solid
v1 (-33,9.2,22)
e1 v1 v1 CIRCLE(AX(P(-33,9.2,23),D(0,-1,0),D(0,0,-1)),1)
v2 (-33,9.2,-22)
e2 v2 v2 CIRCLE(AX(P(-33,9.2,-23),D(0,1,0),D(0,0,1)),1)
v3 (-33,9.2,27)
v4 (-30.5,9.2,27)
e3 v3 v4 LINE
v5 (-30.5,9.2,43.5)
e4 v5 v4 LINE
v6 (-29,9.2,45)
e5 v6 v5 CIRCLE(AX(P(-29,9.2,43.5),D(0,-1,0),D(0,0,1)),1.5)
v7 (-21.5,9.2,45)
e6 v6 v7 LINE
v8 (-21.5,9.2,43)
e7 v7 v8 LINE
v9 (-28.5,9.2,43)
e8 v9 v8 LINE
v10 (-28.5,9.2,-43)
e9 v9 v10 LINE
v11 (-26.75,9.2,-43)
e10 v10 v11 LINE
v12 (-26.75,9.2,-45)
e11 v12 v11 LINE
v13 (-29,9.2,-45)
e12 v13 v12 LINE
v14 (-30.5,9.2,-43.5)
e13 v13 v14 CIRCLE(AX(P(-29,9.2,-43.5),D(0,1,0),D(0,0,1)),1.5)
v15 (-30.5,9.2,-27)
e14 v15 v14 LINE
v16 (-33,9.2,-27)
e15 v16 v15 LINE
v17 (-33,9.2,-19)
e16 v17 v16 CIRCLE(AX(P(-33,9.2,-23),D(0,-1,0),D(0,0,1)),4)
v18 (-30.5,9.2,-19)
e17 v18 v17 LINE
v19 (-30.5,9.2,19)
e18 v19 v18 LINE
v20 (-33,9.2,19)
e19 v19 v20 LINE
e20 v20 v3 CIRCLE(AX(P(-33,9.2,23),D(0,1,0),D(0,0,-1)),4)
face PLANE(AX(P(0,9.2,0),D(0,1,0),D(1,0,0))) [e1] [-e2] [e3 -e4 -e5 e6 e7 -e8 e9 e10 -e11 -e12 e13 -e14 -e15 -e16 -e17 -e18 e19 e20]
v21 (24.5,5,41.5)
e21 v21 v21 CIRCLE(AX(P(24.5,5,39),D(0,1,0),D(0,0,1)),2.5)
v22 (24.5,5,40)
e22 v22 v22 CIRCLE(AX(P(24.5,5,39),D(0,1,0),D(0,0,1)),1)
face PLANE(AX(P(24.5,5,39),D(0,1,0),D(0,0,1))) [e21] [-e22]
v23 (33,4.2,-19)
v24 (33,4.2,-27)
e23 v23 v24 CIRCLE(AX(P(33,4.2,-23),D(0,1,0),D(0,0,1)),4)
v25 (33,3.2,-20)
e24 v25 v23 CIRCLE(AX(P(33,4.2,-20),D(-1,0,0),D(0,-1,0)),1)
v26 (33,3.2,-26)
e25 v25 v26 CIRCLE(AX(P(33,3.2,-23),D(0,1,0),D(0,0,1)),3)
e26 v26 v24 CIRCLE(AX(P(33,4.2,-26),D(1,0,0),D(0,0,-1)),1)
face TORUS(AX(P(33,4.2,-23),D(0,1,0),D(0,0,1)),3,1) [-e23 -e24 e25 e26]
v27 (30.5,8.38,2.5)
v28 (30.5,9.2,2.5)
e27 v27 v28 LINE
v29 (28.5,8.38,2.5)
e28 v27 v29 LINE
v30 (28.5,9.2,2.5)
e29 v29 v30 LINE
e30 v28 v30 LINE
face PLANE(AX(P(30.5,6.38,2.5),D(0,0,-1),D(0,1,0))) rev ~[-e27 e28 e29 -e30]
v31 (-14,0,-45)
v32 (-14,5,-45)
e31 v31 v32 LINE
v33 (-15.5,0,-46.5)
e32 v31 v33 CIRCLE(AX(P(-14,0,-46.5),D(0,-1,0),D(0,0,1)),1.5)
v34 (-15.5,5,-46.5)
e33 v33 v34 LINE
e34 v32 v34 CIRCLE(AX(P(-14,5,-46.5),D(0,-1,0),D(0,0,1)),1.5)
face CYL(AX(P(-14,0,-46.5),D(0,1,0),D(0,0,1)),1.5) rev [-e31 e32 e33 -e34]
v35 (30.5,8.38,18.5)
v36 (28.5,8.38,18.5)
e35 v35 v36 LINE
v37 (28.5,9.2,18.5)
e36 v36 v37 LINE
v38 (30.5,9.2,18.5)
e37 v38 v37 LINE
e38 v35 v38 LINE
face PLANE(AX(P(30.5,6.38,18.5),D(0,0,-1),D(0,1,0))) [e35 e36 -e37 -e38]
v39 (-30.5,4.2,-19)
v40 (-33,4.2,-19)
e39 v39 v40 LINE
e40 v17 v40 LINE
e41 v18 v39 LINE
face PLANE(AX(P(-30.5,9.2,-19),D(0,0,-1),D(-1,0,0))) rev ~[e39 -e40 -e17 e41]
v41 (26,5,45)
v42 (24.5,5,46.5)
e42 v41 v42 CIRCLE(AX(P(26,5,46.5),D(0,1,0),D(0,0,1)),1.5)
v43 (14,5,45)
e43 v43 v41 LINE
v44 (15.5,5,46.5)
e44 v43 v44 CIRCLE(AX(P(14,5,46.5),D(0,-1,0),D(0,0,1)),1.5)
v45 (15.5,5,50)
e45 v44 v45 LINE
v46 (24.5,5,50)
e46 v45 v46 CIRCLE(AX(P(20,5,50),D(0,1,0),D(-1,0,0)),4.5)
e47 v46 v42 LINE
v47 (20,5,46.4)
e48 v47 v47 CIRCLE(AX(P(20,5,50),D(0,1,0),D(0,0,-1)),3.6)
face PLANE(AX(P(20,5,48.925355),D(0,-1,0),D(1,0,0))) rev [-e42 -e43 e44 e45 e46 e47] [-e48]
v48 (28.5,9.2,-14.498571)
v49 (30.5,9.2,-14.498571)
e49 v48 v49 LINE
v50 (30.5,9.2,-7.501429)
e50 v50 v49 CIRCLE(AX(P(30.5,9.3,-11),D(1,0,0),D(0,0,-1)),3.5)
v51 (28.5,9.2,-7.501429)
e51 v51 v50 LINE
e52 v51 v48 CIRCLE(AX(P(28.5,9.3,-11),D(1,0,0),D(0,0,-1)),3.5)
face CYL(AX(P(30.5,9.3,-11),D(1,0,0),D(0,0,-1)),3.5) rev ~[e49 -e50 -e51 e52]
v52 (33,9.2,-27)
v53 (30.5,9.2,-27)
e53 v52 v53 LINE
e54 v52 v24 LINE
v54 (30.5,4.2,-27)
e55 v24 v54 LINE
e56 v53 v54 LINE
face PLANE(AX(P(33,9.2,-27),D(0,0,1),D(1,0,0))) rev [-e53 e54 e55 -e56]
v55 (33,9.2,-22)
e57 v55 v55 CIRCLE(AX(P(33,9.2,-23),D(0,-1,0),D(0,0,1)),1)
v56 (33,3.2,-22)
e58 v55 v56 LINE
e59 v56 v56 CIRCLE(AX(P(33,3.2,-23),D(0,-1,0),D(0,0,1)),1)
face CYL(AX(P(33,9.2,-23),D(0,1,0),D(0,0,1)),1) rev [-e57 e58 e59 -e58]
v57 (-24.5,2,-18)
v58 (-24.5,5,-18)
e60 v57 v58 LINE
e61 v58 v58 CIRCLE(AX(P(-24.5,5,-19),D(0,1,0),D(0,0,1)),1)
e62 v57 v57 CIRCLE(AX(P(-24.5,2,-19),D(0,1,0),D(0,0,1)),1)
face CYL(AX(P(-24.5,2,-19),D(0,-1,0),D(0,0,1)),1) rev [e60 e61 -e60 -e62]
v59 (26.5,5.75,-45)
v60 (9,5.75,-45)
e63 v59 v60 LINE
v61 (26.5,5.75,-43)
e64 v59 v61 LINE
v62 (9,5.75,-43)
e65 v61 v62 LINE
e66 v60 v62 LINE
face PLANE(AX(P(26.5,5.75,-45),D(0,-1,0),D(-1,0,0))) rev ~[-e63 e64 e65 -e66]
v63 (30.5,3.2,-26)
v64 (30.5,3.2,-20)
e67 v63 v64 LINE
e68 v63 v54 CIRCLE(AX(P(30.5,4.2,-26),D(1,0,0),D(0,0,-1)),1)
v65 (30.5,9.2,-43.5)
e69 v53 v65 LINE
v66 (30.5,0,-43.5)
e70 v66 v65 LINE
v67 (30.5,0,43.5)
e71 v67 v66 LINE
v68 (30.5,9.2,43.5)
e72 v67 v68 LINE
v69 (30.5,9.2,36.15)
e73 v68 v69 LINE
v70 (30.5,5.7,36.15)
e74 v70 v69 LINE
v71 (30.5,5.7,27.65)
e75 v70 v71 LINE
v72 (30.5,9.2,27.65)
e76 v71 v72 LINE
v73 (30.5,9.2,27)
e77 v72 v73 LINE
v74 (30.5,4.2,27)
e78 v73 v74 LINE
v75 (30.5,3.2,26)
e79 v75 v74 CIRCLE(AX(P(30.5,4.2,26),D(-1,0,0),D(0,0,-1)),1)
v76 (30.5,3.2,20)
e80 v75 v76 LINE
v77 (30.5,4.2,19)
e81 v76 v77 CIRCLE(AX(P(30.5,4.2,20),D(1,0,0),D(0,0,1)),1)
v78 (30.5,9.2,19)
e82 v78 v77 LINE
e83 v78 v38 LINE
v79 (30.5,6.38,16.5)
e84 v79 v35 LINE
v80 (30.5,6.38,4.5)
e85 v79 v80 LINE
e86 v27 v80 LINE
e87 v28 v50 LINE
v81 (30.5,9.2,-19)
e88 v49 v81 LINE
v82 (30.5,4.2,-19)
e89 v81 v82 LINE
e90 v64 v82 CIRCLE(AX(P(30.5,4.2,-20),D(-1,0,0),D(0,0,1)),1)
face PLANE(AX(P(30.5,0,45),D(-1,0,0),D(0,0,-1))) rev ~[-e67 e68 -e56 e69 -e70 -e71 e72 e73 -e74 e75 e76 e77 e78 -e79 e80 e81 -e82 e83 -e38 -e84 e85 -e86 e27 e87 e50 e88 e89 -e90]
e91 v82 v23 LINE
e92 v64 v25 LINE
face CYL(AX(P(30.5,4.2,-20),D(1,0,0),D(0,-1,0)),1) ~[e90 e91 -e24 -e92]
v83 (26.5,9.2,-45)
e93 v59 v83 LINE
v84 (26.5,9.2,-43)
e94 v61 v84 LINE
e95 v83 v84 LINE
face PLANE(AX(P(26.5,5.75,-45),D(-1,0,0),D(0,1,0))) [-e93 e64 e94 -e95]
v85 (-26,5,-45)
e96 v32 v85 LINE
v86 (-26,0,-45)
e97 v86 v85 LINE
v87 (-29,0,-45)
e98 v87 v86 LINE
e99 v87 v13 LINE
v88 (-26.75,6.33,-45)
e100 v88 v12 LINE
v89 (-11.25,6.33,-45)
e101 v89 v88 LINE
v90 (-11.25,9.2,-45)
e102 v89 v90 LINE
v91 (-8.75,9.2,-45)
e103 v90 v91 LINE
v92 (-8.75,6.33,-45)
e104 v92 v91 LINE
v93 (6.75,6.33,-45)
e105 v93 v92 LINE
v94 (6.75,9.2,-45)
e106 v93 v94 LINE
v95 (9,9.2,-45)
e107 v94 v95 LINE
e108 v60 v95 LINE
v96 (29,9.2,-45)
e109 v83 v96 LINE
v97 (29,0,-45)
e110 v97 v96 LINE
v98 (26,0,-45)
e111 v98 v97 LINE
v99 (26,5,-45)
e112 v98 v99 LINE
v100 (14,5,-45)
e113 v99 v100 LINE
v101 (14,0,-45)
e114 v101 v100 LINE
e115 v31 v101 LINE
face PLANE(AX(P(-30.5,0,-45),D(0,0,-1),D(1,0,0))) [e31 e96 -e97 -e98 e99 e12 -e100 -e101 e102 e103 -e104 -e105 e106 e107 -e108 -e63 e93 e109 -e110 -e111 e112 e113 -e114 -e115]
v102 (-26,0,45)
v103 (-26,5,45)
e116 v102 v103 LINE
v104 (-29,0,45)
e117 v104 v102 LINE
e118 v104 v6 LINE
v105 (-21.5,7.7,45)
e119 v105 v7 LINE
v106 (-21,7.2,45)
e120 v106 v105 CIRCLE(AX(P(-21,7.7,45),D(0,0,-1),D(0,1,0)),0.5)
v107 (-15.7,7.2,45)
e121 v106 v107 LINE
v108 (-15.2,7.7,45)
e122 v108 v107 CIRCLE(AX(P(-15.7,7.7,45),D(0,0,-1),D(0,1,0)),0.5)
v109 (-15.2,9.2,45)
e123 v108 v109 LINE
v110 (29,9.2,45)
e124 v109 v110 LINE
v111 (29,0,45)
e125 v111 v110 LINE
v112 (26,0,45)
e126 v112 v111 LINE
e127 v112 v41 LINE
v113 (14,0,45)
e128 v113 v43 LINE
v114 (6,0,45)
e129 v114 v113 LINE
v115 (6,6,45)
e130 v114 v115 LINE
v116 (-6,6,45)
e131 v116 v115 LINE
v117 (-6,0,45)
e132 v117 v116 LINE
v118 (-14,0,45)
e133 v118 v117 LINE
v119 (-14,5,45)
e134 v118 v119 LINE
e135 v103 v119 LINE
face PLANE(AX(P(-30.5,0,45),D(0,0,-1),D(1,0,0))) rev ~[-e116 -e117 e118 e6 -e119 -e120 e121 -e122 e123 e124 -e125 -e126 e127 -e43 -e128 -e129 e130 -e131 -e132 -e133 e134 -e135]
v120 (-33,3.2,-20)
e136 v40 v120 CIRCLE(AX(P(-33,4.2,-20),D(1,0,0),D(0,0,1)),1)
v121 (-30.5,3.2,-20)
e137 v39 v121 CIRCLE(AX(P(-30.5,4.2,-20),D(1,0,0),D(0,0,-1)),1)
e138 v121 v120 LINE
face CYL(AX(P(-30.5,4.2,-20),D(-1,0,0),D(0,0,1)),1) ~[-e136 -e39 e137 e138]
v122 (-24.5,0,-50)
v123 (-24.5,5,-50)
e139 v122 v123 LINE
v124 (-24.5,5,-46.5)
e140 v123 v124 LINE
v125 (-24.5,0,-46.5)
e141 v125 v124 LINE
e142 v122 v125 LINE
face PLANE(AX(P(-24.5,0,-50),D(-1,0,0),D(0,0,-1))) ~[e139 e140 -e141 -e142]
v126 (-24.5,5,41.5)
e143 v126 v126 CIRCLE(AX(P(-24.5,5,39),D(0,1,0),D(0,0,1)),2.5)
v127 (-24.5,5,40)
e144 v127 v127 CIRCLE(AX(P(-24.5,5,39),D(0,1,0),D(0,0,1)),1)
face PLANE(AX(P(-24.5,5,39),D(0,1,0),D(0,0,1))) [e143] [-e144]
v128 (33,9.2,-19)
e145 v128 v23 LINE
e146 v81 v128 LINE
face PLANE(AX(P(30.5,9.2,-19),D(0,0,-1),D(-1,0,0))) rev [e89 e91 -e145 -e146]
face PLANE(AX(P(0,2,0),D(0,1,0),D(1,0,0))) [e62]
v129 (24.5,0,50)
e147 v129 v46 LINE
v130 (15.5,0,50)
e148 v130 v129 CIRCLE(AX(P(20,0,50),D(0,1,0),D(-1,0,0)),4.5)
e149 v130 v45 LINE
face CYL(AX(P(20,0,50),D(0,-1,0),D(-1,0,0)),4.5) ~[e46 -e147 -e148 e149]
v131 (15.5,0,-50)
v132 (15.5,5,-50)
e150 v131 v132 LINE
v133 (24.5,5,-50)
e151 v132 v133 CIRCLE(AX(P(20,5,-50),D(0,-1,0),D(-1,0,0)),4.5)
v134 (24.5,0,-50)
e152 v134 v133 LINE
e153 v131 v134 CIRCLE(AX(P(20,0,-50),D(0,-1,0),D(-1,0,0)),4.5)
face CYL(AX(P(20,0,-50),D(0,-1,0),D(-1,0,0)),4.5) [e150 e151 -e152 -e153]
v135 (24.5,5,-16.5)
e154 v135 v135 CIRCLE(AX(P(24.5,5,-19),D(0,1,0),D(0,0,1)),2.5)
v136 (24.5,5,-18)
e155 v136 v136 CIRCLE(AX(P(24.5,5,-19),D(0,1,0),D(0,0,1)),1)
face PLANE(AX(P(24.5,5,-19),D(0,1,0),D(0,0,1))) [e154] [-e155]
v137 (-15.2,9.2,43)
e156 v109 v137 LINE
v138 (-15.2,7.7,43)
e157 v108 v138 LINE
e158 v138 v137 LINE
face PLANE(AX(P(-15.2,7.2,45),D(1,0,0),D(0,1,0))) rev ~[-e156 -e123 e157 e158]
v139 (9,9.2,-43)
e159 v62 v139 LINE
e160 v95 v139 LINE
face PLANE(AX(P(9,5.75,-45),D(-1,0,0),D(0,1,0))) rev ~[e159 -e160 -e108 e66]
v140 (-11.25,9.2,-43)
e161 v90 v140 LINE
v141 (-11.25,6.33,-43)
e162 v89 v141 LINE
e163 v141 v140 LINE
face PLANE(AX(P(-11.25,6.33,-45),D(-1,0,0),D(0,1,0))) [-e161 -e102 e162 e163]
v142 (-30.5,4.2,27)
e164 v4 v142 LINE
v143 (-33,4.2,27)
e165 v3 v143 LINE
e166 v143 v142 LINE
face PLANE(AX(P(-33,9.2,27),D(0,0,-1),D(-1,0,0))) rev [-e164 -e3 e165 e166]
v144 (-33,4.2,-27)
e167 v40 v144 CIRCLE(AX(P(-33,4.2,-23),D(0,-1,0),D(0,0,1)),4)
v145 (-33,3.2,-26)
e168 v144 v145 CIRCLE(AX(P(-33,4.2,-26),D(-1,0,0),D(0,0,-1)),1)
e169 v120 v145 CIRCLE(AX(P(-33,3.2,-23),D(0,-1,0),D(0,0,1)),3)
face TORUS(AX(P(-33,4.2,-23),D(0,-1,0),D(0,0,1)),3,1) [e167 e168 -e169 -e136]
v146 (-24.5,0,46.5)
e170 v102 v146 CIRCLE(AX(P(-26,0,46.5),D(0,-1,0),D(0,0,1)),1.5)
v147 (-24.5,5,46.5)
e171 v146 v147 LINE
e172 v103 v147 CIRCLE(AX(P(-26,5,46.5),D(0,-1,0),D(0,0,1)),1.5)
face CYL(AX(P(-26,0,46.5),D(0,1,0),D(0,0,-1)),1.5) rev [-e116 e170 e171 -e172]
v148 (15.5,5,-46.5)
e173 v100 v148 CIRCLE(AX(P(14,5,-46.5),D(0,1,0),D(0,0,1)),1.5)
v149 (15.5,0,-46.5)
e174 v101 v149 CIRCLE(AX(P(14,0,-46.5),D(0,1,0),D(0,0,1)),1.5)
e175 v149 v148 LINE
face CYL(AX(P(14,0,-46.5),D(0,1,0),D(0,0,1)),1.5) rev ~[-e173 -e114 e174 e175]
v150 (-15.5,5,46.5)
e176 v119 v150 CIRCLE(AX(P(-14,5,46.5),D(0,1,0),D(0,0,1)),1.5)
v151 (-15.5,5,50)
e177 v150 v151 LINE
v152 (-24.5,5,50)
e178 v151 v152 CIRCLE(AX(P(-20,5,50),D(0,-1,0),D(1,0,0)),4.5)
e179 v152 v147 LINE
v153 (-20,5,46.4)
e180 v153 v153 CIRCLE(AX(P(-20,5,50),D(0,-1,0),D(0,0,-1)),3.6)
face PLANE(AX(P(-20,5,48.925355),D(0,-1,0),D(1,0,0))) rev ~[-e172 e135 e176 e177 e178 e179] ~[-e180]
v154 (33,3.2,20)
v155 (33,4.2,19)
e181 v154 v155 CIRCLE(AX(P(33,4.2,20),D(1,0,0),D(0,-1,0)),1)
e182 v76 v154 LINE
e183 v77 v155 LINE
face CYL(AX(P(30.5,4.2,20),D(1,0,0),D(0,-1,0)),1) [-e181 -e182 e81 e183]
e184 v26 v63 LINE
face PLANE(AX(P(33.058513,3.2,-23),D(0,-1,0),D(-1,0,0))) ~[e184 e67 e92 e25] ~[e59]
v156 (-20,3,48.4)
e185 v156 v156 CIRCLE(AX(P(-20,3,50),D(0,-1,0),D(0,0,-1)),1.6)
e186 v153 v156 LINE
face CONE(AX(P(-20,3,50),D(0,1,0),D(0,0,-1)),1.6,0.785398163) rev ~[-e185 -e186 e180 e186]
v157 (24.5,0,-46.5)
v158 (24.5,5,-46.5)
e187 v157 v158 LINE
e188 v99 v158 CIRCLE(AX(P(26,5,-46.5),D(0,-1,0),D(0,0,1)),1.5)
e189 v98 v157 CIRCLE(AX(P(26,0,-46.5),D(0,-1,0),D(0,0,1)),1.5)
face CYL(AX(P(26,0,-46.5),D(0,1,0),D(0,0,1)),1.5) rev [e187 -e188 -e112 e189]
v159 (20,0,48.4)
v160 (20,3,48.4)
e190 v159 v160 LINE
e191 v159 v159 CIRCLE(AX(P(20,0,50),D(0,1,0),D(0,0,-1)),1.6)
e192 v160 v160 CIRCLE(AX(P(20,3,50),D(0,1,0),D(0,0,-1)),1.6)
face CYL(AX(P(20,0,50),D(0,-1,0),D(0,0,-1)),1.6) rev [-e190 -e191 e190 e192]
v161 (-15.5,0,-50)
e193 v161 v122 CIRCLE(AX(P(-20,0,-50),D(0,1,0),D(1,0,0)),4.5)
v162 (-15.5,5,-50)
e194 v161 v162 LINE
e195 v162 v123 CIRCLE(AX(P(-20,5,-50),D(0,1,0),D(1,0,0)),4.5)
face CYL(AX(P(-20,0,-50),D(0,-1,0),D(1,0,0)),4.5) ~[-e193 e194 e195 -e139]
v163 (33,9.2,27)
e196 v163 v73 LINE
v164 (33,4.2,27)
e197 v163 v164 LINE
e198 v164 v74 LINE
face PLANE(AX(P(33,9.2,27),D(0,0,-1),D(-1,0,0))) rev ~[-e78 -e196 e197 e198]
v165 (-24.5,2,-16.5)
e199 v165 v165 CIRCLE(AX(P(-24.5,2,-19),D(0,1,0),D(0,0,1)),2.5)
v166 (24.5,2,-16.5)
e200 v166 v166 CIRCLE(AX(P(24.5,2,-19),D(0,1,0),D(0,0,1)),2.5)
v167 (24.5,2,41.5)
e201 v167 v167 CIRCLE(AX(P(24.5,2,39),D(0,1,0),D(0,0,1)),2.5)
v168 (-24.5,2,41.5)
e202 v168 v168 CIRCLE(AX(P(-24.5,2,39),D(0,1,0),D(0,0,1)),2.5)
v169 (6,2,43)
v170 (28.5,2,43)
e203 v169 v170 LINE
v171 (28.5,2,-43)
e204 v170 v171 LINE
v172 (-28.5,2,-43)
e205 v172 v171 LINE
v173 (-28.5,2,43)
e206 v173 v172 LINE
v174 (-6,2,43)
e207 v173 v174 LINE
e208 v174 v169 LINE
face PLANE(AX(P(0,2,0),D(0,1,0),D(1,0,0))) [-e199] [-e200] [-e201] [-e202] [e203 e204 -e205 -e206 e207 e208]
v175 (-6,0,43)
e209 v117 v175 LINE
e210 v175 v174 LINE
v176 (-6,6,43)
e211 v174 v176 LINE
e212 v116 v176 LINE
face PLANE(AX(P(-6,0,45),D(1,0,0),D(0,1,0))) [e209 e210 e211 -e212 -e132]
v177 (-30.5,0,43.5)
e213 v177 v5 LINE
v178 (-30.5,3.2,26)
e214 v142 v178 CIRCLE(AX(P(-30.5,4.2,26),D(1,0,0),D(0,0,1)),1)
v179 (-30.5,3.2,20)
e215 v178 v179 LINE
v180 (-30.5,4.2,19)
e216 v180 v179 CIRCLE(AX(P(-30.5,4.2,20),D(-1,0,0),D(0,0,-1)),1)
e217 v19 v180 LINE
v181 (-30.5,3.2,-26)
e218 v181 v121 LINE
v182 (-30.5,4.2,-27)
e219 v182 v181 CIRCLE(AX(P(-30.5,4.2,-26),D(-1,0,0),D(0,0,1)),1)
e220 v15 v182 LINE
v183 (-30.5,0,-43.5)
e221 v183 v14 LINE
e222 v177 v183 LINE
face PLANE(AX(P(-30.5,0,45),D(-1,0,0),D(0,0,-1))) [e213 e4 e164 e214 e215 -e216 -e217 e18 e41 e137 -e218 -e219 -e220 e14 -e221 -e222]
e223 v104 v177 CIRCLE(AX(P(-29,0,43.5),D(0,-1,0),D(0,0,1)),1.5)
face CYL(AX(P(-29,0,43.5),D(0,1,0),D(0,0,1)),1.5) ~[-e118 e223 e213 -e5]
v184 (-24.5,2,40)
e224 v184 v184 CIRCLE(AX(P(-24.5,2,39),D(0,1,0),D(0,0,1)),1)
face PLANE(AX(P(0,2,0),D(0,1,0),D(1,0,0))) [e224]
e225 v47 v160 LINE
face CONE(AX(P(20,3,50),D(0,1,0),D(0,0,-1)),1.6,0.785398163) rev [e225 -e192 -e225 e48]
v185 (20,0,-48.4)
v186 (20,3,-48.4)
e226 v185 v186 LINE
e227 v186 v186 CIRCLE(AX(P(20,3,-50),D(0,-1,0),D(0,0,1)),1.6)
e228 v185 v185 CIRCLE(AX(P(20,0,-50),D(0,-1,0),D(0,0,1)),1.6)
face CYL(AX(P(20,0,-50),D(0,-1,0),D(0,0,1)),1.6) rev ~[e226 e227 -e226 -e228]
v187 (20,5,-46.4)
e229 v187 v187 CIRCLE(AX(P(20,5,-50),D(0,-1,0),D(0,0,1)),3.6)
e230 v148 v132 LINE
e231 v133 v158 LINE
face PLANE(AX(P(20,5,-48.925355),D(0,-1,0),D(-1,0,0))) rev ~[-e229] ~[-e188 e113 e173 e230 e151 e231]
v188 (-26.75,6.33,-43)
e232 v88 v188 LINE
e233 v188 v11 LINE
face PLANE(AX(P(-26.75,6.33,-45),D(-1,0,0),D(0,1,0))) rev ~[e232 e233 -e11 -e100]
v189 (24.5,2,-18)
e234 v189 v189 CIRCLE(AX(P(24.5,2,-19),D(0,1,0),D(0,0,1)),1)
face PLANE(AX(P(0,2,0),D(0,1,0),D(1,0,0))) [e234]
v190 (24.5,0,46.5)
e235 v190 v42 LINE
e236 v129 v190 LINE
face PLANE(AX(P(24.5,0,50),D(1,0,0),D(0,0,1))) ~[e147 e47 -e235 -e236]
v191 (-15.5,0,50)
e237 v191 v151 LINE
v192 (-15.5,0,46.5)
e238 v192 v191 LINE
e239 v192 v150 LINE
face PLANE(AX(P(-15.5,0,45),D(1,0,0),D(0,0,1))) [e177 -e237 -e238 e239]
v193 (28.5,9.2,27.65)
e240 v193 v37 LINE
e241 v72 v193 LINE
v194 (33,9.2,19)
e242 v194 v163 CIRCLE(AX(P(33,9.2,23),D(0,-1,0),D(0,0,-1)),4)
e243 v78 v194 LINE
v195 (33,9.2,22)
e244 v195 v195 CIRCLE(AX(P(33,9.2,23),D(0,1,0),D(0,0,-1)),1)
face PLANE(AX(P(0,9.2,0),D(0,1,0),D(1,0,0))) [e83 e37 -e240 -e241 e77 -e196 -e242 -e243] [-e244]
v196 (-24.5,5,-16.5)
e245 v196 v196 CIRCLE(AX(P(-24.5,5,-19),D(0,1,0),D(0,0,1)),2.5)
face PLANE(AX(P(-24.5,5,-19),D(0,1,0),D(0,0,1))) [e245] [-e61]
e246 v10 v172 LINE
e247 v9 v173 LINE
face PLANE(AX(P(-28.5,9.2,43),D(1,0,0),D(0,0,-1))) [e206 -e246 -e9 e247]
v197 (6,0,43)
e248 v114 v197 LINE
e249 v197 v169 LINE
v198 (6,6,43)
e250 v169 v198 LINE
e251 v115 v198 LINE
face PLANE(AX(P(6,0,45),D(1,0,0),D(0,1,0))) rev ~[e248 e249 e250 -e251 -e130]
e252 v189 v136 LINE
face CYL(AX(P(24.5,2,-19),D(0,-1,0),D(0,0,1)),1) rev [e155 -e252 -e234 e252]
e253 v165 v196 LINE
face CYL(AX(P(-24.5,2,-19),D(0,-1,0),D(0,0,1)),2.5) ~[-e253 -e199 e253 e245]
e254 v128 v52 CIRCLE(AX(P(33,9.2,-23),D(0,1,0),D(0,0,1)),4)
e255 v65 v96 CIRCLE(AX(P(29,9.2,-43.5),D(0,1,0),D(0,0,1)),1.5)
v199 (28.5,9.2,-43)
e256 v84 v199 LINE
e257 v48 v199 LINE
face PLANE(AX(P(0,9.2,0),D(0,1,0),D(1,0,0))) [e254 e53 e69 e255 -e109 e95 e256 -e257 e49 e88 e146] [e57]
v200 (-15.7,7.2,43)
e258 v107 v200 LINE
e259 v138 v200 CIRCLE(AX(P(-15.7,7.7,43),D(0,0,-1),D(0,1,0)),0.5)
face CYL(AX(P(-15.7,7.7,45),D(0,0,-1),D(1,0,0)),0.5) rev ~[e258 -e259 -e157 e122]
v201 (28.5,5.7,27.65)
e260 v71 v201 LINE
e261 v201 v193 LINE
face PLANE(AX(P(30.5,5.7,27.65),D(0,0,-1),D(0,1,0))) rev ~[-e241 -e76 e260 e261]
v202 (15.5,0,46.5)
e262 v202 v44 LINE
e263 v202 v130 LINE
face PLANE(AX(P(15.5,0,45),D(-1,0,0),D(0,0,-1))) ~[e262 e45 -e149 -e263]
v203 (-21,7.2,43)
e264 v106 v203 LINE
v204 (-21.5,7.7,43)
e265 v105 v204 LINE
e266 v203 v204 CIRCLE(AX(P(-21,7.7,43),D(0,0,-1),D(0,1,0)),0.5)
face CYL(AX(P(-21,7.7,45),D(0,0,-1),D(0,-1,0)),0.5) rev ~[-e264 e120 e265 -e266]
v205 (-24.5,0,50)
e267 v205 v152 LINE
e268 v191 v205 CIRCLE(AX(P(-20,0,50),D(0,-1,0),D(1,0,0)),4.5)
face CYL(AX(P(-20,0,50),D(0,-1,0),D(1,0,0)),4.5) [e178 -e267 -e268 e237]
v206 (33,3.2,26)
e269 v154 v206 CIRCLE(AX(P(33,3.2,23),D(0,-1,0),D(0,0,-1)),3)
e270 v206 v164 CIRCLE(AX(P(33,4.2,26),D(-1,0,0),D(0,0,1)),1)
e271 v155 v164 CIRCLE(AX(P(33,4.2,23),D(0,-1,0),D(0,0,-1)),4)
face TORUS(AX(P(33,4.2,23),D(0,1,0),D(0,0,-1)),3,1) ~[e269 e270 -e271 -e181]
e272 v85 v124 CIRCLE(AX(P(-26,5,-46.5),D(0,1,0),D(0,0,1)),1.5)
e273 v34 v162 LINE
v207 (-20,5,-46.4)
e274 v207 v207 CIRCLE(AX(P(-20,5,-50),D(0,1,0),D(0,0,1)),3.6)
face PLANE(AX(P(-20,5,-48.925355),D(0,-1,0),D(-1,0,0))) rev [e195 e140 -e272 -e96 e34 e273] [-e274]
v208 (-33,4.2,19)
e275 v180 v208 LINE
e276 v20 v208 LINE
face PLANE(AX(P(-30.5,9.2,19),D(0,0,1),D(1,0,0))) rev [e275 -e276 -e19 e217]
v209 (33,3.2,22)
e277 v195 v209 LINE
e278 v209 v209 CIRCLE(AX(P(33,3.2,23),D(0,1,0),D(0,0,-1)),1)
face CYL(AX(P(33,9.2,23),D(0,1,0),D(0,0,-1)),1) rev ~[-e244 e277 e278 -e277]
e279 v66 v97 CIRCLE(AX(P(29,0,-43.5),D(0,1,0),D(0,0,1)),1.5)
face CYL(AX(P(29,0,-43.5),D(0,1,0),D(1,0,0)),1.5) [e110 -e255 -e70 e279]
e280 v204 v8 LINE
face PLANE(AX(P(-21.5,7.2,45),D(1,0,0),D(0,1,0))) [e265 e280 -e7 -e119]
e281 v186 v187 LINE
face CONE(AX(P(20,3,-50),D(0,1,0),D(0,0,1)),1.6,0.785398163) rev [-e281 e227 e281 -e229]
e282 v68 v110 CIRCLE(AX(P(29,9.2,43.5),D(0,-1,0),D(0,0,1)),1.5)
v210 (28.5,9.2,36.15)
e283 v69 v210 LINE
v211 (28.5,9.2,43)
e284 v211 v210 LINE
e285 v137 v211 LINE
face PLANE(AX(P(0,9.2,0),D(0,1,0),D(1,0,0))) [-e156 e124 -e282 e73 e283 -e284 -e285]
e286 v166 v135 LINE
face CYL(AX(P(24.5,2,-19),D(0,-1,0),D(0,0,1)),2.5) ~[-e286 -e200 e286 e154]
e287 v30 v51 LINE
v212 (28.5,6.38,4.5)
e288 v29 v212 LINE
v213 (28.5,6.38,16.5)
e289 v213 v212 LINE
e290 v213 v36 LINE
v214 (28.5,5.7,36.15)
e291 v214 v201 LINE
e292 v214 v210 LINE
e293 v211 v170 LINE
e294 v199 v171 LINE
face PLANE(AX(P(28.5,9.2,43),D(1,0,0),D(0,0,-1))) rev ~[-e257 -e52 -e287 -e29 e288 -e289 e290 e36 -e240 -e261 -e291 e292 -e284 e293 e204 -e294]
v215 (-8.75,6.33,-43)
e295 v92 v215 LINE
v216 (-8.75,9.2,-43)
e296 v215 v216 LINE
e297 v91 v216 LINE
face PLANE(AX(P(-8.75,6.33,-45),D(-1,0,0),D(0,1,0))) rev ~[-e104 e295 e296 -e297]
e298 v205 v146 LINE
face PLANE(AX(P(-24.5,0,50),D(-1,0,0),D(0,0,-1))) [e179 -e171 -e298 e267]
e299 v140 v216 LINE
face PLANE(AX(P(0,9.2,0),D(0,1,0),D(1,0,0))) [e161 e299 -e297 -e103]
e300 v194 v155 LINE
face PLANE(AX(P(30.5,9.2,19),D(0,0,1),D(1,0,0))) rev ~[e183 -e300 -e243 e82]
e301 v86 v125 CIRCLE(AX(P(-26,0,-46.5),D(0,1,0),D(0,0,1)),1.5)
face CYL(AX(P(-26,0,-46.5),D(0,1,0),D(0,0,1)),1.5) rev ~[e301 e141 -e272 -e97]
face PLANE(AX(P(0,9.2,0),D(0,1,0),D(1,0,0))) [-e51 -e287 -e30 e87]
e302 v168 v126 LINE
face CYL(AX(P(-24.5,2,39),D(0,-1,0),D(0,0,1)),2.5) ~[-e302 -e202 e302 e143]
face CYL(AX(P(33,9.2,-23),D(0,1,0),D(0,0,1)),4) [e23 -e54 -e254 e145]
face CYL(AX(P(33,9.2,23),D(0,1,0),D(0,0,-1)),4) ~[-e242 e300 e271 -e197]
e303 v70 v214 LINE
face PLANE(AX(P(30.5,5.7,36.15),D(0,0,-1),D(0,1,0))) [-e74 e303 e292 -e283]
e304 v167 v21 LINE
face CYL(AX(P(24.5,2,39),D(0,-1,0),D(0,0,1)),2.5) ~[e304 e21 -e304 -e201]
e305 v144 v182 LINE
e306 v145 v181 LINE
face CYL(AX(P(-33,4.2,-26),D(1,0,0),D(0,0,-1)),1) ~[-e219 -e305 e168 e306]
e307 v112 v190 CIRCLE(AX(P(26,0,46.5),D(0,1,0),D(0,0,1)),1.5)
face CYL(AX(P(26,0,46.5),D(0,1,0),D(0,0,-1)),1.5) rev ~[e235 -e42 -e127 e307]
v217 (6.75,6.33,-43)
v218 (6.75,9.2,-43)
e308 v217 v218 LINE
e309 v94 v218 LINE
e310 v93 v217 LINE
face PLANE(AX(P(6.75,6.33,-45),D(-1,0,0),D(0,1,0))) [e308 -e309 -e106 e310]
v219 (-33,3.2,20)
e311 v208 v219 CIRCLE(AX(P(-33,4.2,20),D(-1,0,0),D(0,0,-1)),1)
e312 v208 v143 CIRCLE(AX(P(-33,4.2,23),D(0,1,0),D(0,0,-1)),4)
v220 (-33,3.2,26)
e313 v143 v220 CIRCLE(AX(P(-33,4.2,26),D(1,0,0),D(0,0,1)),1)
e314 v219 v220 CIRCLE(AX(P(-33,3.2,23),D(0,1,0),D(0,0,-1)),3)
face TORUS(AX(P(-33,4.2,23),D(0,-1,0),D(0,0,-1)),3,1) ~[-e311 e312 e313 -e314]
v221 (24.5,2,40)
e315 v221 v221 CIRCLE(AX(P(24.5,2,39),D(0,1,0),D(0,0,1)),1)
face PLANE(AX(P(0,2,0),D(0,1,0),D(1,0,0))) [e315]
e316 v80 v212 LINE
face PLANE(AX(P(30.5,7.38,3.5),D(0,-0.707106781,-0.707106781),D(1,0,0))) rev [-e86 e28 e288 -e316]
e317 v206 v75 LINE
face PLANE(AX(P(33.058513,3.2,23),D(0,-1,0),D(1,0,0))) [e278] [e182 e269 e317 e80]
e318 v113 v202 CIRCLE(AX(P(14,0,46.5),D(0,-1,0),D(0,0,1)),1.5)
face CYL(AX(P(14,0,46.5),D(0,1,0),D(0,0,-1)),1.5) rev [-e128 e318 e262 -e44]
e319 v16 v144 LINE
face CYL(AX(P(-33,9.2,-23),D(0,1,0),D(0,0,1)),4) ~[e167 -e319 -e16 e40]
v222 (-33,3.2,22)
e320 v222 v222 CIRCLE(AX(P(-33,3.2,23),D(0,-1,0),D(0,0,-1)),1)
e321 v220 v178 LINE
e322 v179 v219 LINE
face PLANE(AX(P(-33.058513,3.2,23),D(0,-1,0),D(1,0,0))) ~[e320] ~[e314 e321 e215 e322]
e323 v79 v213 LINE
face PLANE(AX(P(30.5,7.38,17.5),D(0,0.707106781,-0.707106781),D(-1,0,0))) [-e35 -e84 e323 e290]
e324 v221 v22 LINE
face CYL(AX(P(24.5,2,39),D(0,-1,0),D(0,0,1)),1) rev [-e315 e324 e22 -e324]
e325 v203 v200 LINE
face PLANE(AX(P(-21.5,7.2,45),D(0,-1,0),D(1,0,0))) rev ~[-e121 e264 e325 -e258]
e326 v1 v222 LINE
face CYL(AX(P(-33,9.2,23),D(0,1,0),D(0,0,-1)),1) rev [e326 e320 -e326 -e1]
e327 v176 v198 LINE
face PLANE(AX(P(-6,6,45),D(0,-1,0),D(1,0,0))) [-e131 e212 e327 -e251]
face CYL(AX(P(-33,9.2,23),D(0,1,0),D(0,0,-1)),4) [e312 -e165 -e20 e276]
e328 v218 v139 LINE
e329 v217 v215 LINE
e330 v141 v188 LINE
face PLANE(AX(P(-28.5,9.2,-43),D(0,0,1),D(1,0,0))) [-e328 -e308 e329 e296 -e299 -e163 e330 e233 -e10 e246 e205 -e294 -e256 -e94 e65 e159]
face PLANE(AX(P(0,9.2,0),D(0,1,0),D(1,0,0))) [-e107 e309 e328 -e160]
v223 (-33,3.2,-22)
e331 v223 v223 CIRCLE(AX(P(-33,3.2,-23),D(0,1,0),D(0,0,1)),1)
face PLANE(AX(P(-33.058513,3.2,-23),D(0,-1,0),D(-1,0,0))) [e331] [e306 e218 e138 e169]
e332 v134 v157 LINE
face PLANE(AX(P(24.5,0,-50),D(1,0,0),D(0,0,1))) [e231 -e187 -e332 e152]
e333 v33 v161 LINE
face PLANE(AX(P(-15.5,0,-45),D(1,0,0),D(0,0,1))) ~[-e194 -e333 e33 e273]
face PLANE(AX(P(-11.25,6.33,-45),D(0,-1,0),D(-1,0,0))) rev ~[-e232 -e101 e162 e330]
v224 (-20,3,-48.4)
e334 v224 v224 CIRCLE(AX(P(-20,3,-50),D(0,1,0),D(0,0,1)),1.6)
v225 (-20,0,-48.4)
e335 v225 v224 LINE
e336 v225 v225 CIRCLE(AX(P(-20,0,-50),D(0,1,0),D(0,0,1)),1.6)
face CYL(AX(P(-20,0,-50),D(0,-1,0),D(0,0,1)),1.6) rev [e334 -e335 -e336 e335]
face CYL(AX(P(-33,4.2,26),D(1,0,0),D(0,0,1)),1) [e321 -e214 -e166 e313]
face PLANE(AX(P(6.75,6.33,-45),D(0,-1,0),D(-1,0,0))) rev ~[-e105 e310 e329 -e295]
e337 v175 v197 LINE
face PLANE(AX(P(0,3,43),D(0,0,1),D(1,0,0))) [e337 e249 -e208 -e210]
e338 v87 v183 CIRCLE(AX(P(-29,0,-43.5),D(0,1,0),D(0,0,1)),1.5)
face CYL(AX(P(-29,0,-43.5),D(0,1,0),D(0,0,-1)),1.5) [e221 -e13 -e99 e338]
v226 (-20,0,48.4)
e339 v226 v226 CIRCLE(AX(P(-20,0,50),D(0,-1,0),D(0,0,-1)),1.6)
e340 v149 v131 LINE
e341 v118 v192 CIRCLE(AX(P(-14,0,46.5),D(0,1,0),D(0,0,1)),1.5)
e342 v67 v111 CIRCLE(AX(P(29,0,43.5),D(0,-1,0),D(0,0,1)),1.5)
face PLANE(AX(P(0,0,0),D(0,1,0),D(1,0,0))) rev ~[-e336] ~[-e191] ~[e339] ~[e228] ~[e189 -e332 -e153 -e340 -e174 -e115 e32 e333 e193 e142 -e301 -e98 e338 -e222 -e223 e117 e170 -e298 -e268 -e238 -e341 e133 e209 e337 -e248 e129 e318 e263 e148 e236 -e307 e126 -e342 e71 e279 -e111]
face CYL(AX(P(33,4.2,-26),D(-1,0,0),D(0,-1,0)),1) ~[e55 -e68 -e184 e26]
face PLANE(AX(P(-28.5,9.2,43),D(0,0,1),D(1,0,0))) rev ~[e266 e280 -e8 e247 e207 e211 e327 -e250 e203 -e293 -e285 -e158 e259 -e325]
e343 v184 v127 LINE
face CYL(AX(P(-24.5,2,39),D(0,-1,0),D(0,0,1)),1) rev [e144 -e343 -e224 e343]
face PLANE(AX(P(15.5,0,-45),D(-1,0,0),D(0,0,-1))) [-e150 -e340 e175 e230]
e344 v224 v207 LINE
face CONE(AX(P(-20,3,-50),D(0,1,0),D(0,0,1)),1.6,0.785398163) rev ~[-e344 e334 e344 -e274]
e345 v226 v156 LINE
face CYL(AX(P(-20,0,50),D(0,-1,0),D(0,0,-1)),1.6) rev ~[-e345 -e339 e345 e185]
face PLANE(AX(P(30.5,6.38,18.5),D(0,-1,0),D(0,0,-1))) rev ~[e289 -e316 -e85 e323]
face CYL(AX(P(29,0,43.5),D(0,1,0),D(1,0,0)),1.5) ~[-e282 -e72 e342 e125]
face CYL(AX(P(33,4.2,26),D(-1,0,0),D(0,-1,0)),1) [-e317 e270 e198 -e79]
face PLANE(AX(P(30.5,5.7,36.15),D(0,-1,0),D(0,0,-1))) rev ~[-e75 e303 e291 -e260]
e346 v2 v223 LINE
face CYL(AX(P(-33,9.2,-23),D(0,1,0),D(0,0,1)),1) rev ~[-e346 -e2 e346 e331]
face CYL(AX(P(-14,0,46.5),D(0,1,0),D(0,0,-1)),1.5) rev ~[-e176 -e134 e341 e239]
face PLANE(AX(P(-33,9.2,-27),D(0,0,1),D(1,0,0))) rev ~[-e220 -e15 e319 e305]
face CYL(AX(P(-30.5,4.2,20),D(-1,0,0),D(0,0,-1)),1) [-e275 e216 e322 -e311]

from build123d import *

# Parameters (mm, degrees)
SKETCH_1_W               = 61
SKETCH_1_H               = 90
EXTRUDE_461_DEPTH        = 9.2
SKETCH_2_W               = 57
SKETCH_2_H               = 86
CUT_EXTRUDE_685_DEPTH    = 7.2
SKETCH_3_R               = 2.5
SKETCH_3_R_2             = 1
EXTRUDE_939_DEPTH        = 3
SKETCH_4_W               = 8.5
SKETCH_4_H               = 4
MICROUSB_DEPTH           = 2
SKETCH_5_W               = 16
SKETCH_5_H               = 6.05
HDMI_DEPTH               = 2
SKETCH_6_R               = 3.5
CUT_EXTRUDE_1702_DEPTH   = 2
SKETCH_7_W               = 17.5
SKETCH_7_H               = 14
ETHERNET_DEPTH           = 2
SKETCH_8_W               = 15.5
SKETCH_8_H               = 16.12
USB_DEPTH                = 2
PATTERN_LINEAR_1_COUNT   = 2
PATTERN_LINEAR_1_PITCH   = 18
SKETCH_9_W               = 12
SKETCH_9_H               = 6
MICROSD_DEPTH            = 2
SKETCH_10_R              = 1.6
EXTRUDE_2923_DEPTH       = 5
MIRROR_2_COPY_1_SKETCH_R = 1.6
MIRROR_2_COPY_1_DEPTH    = 5
SKETCH_11_R              = 1
EXTRUDE_3371_DEPTH       = 6
MIRROR_4_COPY_1_SKETCH_R = 1
MIRROR_4_COPY_1_DEPTH    = 6
CHAMFER_1_SIZE           = 2
FILLET_1_R               = 1
FILLET_2_R               = 1.5
SKETCH_12_W              = 6.3
SKETCH_12_H              = 2
CUT_EXTRUDE_5754_DEPTH   = 2
FILLET_3_R               = 0.5
CHAMFER_2_SIZE           = 2


with BuildPart() as part:
    # Эскиз1 → Extrude 461 (new body)
    with BuildSketch(Plane(origin=(0, 0, 0), x_dir=(1, 0, 0), z_dir=(0, 1, 0))):
        Rectangle(SKETCH_1_W, SKETCH_1_H)
    extrude(amount=EXTRUDE_461_DEPTH)

    # Эскиз2 → Cut-Extrude 685 (cut)
    with BuildSketch(Plane(origin=(0, 9.2, 0), x_dir=(1, 0, 0), z_dir=(0, 1, 0))):
        Rectangle(SKETCH_2_W, SKETCH_2_H)
    extrude(amount=-CUT_EXTRUDE_685_DEPTH, mode=Mode.SUBTRACT)

    # Эскиз3 → Extrude 939 (add)
    # profile 1 of 4: a face of its own
    with BuildSketch(Plane(origin=(0, 2, 0), x_dir=(1, 0, 0), z_dir=(0, 1, 0))):
        with Locations(Location((-24.5, 19, 0), (0, 0, 270))):
            Circle(SKETCH_3_R)
        with Locations(Location((-24.5, 19, 0), (0, 0, 270))):
            Circle(SKETCH_3_R_2, mode=Mode.SUBTRACT)
    # profile 2 of 4: a face of its own
    with BuildSketch(Plane(origin=(0, 2, 0), x_dir=(1, 0, 0), z_dir=(0, 1, 0))):
        with Locations(Location((24.5, 19, 0), (0, 0, 270))):
            Circle(SKETCH_3_R)
        with Locations(Location((24.5, 19, 0), (0, 0, 270))):
            Circle(SKETCH_3_R_2, mode=Mode.SUBTRACT)
    # profile 3 of 4: a face of its own
    with BuildSketch(Plane(origin=(0, 2, 0), x_dir=(1, 0, 0), z_dir=(0, 1, 0))):
        with Locations(Location((24.5, -39, 0), (0, 0, 270))):
            Circle(SKETCH_3_R)
        with Locations(Location((24.5, -39, 0), (0, 0, 270))):
            Circle(SKETCH_3_R_2, mode=Mode.SUBTRACT)
    # profile 4 of 4: a face of its own
    with BuildSketch(Plane(origin=(0, 2, 0), x_dir=(1, 0, 0), z_dir=(0, 1, 0))):
        with Locations(Location((-24.5, -39, 0), (0, 0, 270))):
            Circle(SKETCH_3_R)
        with Locations(Location((-24.5, -39, 0), (0, 0, 270))):
            Circle(SKETCH_3_R_2, mode=Mode.SUBTRACT)
    extrude(amount=EXTRUDE_939_DEPTH)

    # Эскиз4 → microusb (cut)
    with BuildSketch(Plane(origin=(30.5, 0, 0), x_dir=(0, 0, -1), z_dir=(1, 0, 0))):
        with Locations((-31.9, 7.7)):
            Rectangle(SKETCH_4_W, SKETCH_4_H)
    extrude(amount=-MICROUSB_DEPTH, mode=Mode.SUBTRACT)

    # Эскиз5 → hdmi (cut)
    with BuildSketch(Plane(origin=(30.5, 0, 0), x_dir=(0, 0, -1), z_dir=(1, 0, 0))):
        with Locations((-10.5, 9.405)):
            Rectangle(SKETCH_5_W, SKETCH_5_H)
    extrude(amount=-HDMI_DEPTH, mode=Mode.SUBTRACT)

    # Эскиз6 → Cut-Extrude 1702 (cut)
    with BuildSketch(Plane(origin=(30.5, 0, 0), x_dir=(0, 0, -1), z_dir=(1, 0, 0))):
        with Locations((11, 9.3)):
            Circle(SKETCH_6_R)
    extrude(amount=-CUT_EXTRUDE_1702_DEPTH, mode=Mode.SUBTRACT)

    # Эскиз7 → ethernet (cut)
    with BuildSketch(Plane(origin=(0, 0, -45), x_dir=(-1, 0, 0), z_dir=(0, 0, -1))):
        with Locations((-17.75, 12.75)):
            Rectangle(SKETCH_7_W, SKETCH_7_H)
    extrude(amount=-ETHERNET_DEPTH, mode=Mode.SUBTRACT)

    # Эскиз8 → usb (cut)
    with BuildSketch(Plane(origin=(0, 0, -45), x_dir=(-1, 0, 0), z_dir=(0, 0, -1))):
        with Locations((1, 14.39)):
            Rectangle(SKETCH_8_W, SKETCH_8_H)
    usb = extrude(amount=-USB_DEPTH, mode=Mode.SUBTRACT)

    # Линейный массив1: usb ×2
    with Locations(*[(-i * PATTERN_LINEAR_1_PITCH, 0, 0) for i in range(1, PATTERN_LINEAR_1_COUNT)]):
        add(usb, mode=Mode.SUBTRACT)

    # Эскиз9 → microsd (cut)
    with BuildSketch(Plane.XY.offset(45)):
        with Locations((0, 3)):
            Rectangle(SKETCH_9_W, SKETCH_9_H)
    extrude(amount=-MICROSD_DEPTH, mode=Mode.SUBTRACT)

    # Эскиз10 → Extrude 2923 (add)
    with BuildSketch(Plane.XZ):
        with BuildLine():
            Line((-24.5, 50), (-24.5, 45))
            Line((-24.5, 45), (-15.5, 45))
            Line((-15.5, 45), (-15.5, 50))
            ThreePointArc((-15.5, 50), (-20, 54.5), (-24.5, 50))
        make_face()
        with Locations(Location((-20, 50, 0), (0, 0, 270))):
            Circle(SKETCH_10_R, mode=Mode.SUBTRACT)
    extrude_2923 = extrude(amount=-EXTRUDE_2923_DEPTH)

    # Зеркальное отражение1: Extrude 2923 across plane
    add(extrude_2923.mirror(Plane(origin=(0, 0, 0), x_dir=(0, 0, 1), z_dir=(1, 0, 0))))

    # Зеркальное отражение2: Extrude 2923 across plane
    add(extrude_2923.mirror(Plane.XY))

    # Зеркальное отражение2 copy 1 sketch → Зеркальное отражение2 copy 1 (add)
    with BuildSketch(Plane(origin=(0, 0, 0), x_dir=(-1, 0, 0), z_dir=(0, -1, 0))):
        with BuildLine():
            Line((-24.5, 50), (-24.5, 45))
            Line((-24.5, 45), (-15.5, 45))
            Line((-15.5, 45), (-15.5, 50))
            ThreePointArc((-15.5, 50), (-20, 54.5), (-24.5, 50))
        make_face()
        with Locations(Location((-20, 50, 0), (0, 0, 270))):
            Circle(MIRROR_2_COPY_1_SKETCH_R, mode=Mode.SUBTRACT)
    extrude(amount=-MIRROR_2_COPY_1_DEPTH)

    # Эскиз11 → Extrude 3371 (add)
    with BuildSketch(Plane(origin=(0, 9.2, 0), x_dir=(1, 0, 0), z_dir=(0, 1, 0))):
        with BuildLine():
            Line((-33, 27), (-30.5, 27))
            Line((-30.5, 27), (-30.5, 19))
            Line((-30.5, 19), (-33, 19))
            ThreePointArc((-33, 19), (-37, 23), (-33, 27))
        make_face()
        with Locations(Location((-33, 23, 0), (0, 0, 270))):
            Circle(SKETCH_11_R, mode=Mode.SUBTRACT)
    extrude_3371 = extrude(amount=-EXTRUDE_3371_DEPTH)

    # Зеркальное отражение3: Extrude 3371 across plane
    add(extrude_3371.mirror(Plane(origin=(0, 0, 0), x_dir=(0, 0, 1), z_dir=(1, 0, 0))))

    # Зеркальное отражение4: Extrude 3371 across plane
    add(extrude_3371.mirror(Plane.XY))

    # Зеркальное отражение4 copy 1 sketch → Зеркальное отражение4 copy 1 (add)
    with BuildSketch(Plane(origin=(0, 9.2, 0), x_dir=(-1, 0, 0), z_dir=(0, 1, 0))):
        with BuildLine():
            Line((-33, 27), (-30.5, 27))
            Line((-30.5, 27), (-30.5, 19))
            Line((-30.5, 19), (-33, 19))
            ThreePointArc((-33, 19), (-37, 23), (-33, 27))
        make_face()
        with Locations(Location((-33, 23, 0), (0, 0, 270))):
            Circle(MIRROR_4_COPY_1_SKETCH_R, mode=Mode.SUBTRACT)
    extrude(amount=-MIRROR_4_COPY_1_DEPTH)

    # Фаска1
    chamfer_1_edges = [part.edges().sort_by_distance(p)[0] for p in [
        (29.5, 6.38, 18.5),
        (29.5, 6.38, 2.5),
    ]]
    chamfer(chamfer_1_edges, length=CHAMFER_1_SIZE)

    # Скругление1
    fillet_1_edges = [part.edges().sort_by_distance(p)[0] for p in [
        (-37, 3.2, -23),
        (-31.75, 3.2, -27),
        (-31.75, 3.2, -19),
        (37, 3.2, -23),
        (31.75, 3.2, -19),
        (31.75, 3.2, -27),
        (37, 3.2, 23),
        (31.75, 3.2, 27),
        (31.75, 3.2, 19),
        (-37, 3.2, 23),
        (-31.75, 3.2, 19),
        (-31.75, 3.2, 27),
    ]]
    fillet(fillet_1_edges, radius=FILLET_1_R)

    # Скругление2
    fillet_2_edges = [part.edges().sort_by_distance(p)[0] for p in [
        (-15.5, 2.5, 45),
        (-24.5, 2.5, 45),
        (24.5, 2.5, 45),
        (15.5, 2.5, 45),
        (15.5, 2.5, -45),
        (24.5, 2.5, -45),
        (-24.5, 2.5, -45),
        (-15.5, 2.5, -45),
        (-30.5, 4.6, -45),
        (30.5, 4.6, -45),
        (30.5, 4.6, 45),
        (-30.5, 4.6, 45),
    ]]
    fillet(fillet_2_edges, radius=FILLET_2_R)

    # Эскиз12 → Cut-Extrude 5754 (cut)
    with BuildSketch(Plane.XY.offset(45)):
        with Locations((-18.35, 8.2)):
            Rectangle(SKETCH_12_W, SKETCH_12_H)
    extrude(amount=-CUT_EXTRUDE_5754_DEPTH, mode=Mode.SUBTRACT)

    # Скругление3
    fillet_3_edges = [part.edges().sort_by_distance(p)[0] for p in [
        (-21.5, 7.2, 44),
        (-15.2, 7.2, 44),
    ]]
    fillet(fillet_3_edges, radius=FILLET_3_R)

    # Фаска2
    chamfer_2_edges = [part.edges().sort_by_distance(p)[0] for p in [
        (-20, 5, 51.6),
        (20, 5, 51.6),
        (20, 5, -51.6),
        (-20, 5, -51.6),
    ]]
    chamfer(chamfer_2_edges, length=CHAMFER_2_SIZE)


solid = part.part
